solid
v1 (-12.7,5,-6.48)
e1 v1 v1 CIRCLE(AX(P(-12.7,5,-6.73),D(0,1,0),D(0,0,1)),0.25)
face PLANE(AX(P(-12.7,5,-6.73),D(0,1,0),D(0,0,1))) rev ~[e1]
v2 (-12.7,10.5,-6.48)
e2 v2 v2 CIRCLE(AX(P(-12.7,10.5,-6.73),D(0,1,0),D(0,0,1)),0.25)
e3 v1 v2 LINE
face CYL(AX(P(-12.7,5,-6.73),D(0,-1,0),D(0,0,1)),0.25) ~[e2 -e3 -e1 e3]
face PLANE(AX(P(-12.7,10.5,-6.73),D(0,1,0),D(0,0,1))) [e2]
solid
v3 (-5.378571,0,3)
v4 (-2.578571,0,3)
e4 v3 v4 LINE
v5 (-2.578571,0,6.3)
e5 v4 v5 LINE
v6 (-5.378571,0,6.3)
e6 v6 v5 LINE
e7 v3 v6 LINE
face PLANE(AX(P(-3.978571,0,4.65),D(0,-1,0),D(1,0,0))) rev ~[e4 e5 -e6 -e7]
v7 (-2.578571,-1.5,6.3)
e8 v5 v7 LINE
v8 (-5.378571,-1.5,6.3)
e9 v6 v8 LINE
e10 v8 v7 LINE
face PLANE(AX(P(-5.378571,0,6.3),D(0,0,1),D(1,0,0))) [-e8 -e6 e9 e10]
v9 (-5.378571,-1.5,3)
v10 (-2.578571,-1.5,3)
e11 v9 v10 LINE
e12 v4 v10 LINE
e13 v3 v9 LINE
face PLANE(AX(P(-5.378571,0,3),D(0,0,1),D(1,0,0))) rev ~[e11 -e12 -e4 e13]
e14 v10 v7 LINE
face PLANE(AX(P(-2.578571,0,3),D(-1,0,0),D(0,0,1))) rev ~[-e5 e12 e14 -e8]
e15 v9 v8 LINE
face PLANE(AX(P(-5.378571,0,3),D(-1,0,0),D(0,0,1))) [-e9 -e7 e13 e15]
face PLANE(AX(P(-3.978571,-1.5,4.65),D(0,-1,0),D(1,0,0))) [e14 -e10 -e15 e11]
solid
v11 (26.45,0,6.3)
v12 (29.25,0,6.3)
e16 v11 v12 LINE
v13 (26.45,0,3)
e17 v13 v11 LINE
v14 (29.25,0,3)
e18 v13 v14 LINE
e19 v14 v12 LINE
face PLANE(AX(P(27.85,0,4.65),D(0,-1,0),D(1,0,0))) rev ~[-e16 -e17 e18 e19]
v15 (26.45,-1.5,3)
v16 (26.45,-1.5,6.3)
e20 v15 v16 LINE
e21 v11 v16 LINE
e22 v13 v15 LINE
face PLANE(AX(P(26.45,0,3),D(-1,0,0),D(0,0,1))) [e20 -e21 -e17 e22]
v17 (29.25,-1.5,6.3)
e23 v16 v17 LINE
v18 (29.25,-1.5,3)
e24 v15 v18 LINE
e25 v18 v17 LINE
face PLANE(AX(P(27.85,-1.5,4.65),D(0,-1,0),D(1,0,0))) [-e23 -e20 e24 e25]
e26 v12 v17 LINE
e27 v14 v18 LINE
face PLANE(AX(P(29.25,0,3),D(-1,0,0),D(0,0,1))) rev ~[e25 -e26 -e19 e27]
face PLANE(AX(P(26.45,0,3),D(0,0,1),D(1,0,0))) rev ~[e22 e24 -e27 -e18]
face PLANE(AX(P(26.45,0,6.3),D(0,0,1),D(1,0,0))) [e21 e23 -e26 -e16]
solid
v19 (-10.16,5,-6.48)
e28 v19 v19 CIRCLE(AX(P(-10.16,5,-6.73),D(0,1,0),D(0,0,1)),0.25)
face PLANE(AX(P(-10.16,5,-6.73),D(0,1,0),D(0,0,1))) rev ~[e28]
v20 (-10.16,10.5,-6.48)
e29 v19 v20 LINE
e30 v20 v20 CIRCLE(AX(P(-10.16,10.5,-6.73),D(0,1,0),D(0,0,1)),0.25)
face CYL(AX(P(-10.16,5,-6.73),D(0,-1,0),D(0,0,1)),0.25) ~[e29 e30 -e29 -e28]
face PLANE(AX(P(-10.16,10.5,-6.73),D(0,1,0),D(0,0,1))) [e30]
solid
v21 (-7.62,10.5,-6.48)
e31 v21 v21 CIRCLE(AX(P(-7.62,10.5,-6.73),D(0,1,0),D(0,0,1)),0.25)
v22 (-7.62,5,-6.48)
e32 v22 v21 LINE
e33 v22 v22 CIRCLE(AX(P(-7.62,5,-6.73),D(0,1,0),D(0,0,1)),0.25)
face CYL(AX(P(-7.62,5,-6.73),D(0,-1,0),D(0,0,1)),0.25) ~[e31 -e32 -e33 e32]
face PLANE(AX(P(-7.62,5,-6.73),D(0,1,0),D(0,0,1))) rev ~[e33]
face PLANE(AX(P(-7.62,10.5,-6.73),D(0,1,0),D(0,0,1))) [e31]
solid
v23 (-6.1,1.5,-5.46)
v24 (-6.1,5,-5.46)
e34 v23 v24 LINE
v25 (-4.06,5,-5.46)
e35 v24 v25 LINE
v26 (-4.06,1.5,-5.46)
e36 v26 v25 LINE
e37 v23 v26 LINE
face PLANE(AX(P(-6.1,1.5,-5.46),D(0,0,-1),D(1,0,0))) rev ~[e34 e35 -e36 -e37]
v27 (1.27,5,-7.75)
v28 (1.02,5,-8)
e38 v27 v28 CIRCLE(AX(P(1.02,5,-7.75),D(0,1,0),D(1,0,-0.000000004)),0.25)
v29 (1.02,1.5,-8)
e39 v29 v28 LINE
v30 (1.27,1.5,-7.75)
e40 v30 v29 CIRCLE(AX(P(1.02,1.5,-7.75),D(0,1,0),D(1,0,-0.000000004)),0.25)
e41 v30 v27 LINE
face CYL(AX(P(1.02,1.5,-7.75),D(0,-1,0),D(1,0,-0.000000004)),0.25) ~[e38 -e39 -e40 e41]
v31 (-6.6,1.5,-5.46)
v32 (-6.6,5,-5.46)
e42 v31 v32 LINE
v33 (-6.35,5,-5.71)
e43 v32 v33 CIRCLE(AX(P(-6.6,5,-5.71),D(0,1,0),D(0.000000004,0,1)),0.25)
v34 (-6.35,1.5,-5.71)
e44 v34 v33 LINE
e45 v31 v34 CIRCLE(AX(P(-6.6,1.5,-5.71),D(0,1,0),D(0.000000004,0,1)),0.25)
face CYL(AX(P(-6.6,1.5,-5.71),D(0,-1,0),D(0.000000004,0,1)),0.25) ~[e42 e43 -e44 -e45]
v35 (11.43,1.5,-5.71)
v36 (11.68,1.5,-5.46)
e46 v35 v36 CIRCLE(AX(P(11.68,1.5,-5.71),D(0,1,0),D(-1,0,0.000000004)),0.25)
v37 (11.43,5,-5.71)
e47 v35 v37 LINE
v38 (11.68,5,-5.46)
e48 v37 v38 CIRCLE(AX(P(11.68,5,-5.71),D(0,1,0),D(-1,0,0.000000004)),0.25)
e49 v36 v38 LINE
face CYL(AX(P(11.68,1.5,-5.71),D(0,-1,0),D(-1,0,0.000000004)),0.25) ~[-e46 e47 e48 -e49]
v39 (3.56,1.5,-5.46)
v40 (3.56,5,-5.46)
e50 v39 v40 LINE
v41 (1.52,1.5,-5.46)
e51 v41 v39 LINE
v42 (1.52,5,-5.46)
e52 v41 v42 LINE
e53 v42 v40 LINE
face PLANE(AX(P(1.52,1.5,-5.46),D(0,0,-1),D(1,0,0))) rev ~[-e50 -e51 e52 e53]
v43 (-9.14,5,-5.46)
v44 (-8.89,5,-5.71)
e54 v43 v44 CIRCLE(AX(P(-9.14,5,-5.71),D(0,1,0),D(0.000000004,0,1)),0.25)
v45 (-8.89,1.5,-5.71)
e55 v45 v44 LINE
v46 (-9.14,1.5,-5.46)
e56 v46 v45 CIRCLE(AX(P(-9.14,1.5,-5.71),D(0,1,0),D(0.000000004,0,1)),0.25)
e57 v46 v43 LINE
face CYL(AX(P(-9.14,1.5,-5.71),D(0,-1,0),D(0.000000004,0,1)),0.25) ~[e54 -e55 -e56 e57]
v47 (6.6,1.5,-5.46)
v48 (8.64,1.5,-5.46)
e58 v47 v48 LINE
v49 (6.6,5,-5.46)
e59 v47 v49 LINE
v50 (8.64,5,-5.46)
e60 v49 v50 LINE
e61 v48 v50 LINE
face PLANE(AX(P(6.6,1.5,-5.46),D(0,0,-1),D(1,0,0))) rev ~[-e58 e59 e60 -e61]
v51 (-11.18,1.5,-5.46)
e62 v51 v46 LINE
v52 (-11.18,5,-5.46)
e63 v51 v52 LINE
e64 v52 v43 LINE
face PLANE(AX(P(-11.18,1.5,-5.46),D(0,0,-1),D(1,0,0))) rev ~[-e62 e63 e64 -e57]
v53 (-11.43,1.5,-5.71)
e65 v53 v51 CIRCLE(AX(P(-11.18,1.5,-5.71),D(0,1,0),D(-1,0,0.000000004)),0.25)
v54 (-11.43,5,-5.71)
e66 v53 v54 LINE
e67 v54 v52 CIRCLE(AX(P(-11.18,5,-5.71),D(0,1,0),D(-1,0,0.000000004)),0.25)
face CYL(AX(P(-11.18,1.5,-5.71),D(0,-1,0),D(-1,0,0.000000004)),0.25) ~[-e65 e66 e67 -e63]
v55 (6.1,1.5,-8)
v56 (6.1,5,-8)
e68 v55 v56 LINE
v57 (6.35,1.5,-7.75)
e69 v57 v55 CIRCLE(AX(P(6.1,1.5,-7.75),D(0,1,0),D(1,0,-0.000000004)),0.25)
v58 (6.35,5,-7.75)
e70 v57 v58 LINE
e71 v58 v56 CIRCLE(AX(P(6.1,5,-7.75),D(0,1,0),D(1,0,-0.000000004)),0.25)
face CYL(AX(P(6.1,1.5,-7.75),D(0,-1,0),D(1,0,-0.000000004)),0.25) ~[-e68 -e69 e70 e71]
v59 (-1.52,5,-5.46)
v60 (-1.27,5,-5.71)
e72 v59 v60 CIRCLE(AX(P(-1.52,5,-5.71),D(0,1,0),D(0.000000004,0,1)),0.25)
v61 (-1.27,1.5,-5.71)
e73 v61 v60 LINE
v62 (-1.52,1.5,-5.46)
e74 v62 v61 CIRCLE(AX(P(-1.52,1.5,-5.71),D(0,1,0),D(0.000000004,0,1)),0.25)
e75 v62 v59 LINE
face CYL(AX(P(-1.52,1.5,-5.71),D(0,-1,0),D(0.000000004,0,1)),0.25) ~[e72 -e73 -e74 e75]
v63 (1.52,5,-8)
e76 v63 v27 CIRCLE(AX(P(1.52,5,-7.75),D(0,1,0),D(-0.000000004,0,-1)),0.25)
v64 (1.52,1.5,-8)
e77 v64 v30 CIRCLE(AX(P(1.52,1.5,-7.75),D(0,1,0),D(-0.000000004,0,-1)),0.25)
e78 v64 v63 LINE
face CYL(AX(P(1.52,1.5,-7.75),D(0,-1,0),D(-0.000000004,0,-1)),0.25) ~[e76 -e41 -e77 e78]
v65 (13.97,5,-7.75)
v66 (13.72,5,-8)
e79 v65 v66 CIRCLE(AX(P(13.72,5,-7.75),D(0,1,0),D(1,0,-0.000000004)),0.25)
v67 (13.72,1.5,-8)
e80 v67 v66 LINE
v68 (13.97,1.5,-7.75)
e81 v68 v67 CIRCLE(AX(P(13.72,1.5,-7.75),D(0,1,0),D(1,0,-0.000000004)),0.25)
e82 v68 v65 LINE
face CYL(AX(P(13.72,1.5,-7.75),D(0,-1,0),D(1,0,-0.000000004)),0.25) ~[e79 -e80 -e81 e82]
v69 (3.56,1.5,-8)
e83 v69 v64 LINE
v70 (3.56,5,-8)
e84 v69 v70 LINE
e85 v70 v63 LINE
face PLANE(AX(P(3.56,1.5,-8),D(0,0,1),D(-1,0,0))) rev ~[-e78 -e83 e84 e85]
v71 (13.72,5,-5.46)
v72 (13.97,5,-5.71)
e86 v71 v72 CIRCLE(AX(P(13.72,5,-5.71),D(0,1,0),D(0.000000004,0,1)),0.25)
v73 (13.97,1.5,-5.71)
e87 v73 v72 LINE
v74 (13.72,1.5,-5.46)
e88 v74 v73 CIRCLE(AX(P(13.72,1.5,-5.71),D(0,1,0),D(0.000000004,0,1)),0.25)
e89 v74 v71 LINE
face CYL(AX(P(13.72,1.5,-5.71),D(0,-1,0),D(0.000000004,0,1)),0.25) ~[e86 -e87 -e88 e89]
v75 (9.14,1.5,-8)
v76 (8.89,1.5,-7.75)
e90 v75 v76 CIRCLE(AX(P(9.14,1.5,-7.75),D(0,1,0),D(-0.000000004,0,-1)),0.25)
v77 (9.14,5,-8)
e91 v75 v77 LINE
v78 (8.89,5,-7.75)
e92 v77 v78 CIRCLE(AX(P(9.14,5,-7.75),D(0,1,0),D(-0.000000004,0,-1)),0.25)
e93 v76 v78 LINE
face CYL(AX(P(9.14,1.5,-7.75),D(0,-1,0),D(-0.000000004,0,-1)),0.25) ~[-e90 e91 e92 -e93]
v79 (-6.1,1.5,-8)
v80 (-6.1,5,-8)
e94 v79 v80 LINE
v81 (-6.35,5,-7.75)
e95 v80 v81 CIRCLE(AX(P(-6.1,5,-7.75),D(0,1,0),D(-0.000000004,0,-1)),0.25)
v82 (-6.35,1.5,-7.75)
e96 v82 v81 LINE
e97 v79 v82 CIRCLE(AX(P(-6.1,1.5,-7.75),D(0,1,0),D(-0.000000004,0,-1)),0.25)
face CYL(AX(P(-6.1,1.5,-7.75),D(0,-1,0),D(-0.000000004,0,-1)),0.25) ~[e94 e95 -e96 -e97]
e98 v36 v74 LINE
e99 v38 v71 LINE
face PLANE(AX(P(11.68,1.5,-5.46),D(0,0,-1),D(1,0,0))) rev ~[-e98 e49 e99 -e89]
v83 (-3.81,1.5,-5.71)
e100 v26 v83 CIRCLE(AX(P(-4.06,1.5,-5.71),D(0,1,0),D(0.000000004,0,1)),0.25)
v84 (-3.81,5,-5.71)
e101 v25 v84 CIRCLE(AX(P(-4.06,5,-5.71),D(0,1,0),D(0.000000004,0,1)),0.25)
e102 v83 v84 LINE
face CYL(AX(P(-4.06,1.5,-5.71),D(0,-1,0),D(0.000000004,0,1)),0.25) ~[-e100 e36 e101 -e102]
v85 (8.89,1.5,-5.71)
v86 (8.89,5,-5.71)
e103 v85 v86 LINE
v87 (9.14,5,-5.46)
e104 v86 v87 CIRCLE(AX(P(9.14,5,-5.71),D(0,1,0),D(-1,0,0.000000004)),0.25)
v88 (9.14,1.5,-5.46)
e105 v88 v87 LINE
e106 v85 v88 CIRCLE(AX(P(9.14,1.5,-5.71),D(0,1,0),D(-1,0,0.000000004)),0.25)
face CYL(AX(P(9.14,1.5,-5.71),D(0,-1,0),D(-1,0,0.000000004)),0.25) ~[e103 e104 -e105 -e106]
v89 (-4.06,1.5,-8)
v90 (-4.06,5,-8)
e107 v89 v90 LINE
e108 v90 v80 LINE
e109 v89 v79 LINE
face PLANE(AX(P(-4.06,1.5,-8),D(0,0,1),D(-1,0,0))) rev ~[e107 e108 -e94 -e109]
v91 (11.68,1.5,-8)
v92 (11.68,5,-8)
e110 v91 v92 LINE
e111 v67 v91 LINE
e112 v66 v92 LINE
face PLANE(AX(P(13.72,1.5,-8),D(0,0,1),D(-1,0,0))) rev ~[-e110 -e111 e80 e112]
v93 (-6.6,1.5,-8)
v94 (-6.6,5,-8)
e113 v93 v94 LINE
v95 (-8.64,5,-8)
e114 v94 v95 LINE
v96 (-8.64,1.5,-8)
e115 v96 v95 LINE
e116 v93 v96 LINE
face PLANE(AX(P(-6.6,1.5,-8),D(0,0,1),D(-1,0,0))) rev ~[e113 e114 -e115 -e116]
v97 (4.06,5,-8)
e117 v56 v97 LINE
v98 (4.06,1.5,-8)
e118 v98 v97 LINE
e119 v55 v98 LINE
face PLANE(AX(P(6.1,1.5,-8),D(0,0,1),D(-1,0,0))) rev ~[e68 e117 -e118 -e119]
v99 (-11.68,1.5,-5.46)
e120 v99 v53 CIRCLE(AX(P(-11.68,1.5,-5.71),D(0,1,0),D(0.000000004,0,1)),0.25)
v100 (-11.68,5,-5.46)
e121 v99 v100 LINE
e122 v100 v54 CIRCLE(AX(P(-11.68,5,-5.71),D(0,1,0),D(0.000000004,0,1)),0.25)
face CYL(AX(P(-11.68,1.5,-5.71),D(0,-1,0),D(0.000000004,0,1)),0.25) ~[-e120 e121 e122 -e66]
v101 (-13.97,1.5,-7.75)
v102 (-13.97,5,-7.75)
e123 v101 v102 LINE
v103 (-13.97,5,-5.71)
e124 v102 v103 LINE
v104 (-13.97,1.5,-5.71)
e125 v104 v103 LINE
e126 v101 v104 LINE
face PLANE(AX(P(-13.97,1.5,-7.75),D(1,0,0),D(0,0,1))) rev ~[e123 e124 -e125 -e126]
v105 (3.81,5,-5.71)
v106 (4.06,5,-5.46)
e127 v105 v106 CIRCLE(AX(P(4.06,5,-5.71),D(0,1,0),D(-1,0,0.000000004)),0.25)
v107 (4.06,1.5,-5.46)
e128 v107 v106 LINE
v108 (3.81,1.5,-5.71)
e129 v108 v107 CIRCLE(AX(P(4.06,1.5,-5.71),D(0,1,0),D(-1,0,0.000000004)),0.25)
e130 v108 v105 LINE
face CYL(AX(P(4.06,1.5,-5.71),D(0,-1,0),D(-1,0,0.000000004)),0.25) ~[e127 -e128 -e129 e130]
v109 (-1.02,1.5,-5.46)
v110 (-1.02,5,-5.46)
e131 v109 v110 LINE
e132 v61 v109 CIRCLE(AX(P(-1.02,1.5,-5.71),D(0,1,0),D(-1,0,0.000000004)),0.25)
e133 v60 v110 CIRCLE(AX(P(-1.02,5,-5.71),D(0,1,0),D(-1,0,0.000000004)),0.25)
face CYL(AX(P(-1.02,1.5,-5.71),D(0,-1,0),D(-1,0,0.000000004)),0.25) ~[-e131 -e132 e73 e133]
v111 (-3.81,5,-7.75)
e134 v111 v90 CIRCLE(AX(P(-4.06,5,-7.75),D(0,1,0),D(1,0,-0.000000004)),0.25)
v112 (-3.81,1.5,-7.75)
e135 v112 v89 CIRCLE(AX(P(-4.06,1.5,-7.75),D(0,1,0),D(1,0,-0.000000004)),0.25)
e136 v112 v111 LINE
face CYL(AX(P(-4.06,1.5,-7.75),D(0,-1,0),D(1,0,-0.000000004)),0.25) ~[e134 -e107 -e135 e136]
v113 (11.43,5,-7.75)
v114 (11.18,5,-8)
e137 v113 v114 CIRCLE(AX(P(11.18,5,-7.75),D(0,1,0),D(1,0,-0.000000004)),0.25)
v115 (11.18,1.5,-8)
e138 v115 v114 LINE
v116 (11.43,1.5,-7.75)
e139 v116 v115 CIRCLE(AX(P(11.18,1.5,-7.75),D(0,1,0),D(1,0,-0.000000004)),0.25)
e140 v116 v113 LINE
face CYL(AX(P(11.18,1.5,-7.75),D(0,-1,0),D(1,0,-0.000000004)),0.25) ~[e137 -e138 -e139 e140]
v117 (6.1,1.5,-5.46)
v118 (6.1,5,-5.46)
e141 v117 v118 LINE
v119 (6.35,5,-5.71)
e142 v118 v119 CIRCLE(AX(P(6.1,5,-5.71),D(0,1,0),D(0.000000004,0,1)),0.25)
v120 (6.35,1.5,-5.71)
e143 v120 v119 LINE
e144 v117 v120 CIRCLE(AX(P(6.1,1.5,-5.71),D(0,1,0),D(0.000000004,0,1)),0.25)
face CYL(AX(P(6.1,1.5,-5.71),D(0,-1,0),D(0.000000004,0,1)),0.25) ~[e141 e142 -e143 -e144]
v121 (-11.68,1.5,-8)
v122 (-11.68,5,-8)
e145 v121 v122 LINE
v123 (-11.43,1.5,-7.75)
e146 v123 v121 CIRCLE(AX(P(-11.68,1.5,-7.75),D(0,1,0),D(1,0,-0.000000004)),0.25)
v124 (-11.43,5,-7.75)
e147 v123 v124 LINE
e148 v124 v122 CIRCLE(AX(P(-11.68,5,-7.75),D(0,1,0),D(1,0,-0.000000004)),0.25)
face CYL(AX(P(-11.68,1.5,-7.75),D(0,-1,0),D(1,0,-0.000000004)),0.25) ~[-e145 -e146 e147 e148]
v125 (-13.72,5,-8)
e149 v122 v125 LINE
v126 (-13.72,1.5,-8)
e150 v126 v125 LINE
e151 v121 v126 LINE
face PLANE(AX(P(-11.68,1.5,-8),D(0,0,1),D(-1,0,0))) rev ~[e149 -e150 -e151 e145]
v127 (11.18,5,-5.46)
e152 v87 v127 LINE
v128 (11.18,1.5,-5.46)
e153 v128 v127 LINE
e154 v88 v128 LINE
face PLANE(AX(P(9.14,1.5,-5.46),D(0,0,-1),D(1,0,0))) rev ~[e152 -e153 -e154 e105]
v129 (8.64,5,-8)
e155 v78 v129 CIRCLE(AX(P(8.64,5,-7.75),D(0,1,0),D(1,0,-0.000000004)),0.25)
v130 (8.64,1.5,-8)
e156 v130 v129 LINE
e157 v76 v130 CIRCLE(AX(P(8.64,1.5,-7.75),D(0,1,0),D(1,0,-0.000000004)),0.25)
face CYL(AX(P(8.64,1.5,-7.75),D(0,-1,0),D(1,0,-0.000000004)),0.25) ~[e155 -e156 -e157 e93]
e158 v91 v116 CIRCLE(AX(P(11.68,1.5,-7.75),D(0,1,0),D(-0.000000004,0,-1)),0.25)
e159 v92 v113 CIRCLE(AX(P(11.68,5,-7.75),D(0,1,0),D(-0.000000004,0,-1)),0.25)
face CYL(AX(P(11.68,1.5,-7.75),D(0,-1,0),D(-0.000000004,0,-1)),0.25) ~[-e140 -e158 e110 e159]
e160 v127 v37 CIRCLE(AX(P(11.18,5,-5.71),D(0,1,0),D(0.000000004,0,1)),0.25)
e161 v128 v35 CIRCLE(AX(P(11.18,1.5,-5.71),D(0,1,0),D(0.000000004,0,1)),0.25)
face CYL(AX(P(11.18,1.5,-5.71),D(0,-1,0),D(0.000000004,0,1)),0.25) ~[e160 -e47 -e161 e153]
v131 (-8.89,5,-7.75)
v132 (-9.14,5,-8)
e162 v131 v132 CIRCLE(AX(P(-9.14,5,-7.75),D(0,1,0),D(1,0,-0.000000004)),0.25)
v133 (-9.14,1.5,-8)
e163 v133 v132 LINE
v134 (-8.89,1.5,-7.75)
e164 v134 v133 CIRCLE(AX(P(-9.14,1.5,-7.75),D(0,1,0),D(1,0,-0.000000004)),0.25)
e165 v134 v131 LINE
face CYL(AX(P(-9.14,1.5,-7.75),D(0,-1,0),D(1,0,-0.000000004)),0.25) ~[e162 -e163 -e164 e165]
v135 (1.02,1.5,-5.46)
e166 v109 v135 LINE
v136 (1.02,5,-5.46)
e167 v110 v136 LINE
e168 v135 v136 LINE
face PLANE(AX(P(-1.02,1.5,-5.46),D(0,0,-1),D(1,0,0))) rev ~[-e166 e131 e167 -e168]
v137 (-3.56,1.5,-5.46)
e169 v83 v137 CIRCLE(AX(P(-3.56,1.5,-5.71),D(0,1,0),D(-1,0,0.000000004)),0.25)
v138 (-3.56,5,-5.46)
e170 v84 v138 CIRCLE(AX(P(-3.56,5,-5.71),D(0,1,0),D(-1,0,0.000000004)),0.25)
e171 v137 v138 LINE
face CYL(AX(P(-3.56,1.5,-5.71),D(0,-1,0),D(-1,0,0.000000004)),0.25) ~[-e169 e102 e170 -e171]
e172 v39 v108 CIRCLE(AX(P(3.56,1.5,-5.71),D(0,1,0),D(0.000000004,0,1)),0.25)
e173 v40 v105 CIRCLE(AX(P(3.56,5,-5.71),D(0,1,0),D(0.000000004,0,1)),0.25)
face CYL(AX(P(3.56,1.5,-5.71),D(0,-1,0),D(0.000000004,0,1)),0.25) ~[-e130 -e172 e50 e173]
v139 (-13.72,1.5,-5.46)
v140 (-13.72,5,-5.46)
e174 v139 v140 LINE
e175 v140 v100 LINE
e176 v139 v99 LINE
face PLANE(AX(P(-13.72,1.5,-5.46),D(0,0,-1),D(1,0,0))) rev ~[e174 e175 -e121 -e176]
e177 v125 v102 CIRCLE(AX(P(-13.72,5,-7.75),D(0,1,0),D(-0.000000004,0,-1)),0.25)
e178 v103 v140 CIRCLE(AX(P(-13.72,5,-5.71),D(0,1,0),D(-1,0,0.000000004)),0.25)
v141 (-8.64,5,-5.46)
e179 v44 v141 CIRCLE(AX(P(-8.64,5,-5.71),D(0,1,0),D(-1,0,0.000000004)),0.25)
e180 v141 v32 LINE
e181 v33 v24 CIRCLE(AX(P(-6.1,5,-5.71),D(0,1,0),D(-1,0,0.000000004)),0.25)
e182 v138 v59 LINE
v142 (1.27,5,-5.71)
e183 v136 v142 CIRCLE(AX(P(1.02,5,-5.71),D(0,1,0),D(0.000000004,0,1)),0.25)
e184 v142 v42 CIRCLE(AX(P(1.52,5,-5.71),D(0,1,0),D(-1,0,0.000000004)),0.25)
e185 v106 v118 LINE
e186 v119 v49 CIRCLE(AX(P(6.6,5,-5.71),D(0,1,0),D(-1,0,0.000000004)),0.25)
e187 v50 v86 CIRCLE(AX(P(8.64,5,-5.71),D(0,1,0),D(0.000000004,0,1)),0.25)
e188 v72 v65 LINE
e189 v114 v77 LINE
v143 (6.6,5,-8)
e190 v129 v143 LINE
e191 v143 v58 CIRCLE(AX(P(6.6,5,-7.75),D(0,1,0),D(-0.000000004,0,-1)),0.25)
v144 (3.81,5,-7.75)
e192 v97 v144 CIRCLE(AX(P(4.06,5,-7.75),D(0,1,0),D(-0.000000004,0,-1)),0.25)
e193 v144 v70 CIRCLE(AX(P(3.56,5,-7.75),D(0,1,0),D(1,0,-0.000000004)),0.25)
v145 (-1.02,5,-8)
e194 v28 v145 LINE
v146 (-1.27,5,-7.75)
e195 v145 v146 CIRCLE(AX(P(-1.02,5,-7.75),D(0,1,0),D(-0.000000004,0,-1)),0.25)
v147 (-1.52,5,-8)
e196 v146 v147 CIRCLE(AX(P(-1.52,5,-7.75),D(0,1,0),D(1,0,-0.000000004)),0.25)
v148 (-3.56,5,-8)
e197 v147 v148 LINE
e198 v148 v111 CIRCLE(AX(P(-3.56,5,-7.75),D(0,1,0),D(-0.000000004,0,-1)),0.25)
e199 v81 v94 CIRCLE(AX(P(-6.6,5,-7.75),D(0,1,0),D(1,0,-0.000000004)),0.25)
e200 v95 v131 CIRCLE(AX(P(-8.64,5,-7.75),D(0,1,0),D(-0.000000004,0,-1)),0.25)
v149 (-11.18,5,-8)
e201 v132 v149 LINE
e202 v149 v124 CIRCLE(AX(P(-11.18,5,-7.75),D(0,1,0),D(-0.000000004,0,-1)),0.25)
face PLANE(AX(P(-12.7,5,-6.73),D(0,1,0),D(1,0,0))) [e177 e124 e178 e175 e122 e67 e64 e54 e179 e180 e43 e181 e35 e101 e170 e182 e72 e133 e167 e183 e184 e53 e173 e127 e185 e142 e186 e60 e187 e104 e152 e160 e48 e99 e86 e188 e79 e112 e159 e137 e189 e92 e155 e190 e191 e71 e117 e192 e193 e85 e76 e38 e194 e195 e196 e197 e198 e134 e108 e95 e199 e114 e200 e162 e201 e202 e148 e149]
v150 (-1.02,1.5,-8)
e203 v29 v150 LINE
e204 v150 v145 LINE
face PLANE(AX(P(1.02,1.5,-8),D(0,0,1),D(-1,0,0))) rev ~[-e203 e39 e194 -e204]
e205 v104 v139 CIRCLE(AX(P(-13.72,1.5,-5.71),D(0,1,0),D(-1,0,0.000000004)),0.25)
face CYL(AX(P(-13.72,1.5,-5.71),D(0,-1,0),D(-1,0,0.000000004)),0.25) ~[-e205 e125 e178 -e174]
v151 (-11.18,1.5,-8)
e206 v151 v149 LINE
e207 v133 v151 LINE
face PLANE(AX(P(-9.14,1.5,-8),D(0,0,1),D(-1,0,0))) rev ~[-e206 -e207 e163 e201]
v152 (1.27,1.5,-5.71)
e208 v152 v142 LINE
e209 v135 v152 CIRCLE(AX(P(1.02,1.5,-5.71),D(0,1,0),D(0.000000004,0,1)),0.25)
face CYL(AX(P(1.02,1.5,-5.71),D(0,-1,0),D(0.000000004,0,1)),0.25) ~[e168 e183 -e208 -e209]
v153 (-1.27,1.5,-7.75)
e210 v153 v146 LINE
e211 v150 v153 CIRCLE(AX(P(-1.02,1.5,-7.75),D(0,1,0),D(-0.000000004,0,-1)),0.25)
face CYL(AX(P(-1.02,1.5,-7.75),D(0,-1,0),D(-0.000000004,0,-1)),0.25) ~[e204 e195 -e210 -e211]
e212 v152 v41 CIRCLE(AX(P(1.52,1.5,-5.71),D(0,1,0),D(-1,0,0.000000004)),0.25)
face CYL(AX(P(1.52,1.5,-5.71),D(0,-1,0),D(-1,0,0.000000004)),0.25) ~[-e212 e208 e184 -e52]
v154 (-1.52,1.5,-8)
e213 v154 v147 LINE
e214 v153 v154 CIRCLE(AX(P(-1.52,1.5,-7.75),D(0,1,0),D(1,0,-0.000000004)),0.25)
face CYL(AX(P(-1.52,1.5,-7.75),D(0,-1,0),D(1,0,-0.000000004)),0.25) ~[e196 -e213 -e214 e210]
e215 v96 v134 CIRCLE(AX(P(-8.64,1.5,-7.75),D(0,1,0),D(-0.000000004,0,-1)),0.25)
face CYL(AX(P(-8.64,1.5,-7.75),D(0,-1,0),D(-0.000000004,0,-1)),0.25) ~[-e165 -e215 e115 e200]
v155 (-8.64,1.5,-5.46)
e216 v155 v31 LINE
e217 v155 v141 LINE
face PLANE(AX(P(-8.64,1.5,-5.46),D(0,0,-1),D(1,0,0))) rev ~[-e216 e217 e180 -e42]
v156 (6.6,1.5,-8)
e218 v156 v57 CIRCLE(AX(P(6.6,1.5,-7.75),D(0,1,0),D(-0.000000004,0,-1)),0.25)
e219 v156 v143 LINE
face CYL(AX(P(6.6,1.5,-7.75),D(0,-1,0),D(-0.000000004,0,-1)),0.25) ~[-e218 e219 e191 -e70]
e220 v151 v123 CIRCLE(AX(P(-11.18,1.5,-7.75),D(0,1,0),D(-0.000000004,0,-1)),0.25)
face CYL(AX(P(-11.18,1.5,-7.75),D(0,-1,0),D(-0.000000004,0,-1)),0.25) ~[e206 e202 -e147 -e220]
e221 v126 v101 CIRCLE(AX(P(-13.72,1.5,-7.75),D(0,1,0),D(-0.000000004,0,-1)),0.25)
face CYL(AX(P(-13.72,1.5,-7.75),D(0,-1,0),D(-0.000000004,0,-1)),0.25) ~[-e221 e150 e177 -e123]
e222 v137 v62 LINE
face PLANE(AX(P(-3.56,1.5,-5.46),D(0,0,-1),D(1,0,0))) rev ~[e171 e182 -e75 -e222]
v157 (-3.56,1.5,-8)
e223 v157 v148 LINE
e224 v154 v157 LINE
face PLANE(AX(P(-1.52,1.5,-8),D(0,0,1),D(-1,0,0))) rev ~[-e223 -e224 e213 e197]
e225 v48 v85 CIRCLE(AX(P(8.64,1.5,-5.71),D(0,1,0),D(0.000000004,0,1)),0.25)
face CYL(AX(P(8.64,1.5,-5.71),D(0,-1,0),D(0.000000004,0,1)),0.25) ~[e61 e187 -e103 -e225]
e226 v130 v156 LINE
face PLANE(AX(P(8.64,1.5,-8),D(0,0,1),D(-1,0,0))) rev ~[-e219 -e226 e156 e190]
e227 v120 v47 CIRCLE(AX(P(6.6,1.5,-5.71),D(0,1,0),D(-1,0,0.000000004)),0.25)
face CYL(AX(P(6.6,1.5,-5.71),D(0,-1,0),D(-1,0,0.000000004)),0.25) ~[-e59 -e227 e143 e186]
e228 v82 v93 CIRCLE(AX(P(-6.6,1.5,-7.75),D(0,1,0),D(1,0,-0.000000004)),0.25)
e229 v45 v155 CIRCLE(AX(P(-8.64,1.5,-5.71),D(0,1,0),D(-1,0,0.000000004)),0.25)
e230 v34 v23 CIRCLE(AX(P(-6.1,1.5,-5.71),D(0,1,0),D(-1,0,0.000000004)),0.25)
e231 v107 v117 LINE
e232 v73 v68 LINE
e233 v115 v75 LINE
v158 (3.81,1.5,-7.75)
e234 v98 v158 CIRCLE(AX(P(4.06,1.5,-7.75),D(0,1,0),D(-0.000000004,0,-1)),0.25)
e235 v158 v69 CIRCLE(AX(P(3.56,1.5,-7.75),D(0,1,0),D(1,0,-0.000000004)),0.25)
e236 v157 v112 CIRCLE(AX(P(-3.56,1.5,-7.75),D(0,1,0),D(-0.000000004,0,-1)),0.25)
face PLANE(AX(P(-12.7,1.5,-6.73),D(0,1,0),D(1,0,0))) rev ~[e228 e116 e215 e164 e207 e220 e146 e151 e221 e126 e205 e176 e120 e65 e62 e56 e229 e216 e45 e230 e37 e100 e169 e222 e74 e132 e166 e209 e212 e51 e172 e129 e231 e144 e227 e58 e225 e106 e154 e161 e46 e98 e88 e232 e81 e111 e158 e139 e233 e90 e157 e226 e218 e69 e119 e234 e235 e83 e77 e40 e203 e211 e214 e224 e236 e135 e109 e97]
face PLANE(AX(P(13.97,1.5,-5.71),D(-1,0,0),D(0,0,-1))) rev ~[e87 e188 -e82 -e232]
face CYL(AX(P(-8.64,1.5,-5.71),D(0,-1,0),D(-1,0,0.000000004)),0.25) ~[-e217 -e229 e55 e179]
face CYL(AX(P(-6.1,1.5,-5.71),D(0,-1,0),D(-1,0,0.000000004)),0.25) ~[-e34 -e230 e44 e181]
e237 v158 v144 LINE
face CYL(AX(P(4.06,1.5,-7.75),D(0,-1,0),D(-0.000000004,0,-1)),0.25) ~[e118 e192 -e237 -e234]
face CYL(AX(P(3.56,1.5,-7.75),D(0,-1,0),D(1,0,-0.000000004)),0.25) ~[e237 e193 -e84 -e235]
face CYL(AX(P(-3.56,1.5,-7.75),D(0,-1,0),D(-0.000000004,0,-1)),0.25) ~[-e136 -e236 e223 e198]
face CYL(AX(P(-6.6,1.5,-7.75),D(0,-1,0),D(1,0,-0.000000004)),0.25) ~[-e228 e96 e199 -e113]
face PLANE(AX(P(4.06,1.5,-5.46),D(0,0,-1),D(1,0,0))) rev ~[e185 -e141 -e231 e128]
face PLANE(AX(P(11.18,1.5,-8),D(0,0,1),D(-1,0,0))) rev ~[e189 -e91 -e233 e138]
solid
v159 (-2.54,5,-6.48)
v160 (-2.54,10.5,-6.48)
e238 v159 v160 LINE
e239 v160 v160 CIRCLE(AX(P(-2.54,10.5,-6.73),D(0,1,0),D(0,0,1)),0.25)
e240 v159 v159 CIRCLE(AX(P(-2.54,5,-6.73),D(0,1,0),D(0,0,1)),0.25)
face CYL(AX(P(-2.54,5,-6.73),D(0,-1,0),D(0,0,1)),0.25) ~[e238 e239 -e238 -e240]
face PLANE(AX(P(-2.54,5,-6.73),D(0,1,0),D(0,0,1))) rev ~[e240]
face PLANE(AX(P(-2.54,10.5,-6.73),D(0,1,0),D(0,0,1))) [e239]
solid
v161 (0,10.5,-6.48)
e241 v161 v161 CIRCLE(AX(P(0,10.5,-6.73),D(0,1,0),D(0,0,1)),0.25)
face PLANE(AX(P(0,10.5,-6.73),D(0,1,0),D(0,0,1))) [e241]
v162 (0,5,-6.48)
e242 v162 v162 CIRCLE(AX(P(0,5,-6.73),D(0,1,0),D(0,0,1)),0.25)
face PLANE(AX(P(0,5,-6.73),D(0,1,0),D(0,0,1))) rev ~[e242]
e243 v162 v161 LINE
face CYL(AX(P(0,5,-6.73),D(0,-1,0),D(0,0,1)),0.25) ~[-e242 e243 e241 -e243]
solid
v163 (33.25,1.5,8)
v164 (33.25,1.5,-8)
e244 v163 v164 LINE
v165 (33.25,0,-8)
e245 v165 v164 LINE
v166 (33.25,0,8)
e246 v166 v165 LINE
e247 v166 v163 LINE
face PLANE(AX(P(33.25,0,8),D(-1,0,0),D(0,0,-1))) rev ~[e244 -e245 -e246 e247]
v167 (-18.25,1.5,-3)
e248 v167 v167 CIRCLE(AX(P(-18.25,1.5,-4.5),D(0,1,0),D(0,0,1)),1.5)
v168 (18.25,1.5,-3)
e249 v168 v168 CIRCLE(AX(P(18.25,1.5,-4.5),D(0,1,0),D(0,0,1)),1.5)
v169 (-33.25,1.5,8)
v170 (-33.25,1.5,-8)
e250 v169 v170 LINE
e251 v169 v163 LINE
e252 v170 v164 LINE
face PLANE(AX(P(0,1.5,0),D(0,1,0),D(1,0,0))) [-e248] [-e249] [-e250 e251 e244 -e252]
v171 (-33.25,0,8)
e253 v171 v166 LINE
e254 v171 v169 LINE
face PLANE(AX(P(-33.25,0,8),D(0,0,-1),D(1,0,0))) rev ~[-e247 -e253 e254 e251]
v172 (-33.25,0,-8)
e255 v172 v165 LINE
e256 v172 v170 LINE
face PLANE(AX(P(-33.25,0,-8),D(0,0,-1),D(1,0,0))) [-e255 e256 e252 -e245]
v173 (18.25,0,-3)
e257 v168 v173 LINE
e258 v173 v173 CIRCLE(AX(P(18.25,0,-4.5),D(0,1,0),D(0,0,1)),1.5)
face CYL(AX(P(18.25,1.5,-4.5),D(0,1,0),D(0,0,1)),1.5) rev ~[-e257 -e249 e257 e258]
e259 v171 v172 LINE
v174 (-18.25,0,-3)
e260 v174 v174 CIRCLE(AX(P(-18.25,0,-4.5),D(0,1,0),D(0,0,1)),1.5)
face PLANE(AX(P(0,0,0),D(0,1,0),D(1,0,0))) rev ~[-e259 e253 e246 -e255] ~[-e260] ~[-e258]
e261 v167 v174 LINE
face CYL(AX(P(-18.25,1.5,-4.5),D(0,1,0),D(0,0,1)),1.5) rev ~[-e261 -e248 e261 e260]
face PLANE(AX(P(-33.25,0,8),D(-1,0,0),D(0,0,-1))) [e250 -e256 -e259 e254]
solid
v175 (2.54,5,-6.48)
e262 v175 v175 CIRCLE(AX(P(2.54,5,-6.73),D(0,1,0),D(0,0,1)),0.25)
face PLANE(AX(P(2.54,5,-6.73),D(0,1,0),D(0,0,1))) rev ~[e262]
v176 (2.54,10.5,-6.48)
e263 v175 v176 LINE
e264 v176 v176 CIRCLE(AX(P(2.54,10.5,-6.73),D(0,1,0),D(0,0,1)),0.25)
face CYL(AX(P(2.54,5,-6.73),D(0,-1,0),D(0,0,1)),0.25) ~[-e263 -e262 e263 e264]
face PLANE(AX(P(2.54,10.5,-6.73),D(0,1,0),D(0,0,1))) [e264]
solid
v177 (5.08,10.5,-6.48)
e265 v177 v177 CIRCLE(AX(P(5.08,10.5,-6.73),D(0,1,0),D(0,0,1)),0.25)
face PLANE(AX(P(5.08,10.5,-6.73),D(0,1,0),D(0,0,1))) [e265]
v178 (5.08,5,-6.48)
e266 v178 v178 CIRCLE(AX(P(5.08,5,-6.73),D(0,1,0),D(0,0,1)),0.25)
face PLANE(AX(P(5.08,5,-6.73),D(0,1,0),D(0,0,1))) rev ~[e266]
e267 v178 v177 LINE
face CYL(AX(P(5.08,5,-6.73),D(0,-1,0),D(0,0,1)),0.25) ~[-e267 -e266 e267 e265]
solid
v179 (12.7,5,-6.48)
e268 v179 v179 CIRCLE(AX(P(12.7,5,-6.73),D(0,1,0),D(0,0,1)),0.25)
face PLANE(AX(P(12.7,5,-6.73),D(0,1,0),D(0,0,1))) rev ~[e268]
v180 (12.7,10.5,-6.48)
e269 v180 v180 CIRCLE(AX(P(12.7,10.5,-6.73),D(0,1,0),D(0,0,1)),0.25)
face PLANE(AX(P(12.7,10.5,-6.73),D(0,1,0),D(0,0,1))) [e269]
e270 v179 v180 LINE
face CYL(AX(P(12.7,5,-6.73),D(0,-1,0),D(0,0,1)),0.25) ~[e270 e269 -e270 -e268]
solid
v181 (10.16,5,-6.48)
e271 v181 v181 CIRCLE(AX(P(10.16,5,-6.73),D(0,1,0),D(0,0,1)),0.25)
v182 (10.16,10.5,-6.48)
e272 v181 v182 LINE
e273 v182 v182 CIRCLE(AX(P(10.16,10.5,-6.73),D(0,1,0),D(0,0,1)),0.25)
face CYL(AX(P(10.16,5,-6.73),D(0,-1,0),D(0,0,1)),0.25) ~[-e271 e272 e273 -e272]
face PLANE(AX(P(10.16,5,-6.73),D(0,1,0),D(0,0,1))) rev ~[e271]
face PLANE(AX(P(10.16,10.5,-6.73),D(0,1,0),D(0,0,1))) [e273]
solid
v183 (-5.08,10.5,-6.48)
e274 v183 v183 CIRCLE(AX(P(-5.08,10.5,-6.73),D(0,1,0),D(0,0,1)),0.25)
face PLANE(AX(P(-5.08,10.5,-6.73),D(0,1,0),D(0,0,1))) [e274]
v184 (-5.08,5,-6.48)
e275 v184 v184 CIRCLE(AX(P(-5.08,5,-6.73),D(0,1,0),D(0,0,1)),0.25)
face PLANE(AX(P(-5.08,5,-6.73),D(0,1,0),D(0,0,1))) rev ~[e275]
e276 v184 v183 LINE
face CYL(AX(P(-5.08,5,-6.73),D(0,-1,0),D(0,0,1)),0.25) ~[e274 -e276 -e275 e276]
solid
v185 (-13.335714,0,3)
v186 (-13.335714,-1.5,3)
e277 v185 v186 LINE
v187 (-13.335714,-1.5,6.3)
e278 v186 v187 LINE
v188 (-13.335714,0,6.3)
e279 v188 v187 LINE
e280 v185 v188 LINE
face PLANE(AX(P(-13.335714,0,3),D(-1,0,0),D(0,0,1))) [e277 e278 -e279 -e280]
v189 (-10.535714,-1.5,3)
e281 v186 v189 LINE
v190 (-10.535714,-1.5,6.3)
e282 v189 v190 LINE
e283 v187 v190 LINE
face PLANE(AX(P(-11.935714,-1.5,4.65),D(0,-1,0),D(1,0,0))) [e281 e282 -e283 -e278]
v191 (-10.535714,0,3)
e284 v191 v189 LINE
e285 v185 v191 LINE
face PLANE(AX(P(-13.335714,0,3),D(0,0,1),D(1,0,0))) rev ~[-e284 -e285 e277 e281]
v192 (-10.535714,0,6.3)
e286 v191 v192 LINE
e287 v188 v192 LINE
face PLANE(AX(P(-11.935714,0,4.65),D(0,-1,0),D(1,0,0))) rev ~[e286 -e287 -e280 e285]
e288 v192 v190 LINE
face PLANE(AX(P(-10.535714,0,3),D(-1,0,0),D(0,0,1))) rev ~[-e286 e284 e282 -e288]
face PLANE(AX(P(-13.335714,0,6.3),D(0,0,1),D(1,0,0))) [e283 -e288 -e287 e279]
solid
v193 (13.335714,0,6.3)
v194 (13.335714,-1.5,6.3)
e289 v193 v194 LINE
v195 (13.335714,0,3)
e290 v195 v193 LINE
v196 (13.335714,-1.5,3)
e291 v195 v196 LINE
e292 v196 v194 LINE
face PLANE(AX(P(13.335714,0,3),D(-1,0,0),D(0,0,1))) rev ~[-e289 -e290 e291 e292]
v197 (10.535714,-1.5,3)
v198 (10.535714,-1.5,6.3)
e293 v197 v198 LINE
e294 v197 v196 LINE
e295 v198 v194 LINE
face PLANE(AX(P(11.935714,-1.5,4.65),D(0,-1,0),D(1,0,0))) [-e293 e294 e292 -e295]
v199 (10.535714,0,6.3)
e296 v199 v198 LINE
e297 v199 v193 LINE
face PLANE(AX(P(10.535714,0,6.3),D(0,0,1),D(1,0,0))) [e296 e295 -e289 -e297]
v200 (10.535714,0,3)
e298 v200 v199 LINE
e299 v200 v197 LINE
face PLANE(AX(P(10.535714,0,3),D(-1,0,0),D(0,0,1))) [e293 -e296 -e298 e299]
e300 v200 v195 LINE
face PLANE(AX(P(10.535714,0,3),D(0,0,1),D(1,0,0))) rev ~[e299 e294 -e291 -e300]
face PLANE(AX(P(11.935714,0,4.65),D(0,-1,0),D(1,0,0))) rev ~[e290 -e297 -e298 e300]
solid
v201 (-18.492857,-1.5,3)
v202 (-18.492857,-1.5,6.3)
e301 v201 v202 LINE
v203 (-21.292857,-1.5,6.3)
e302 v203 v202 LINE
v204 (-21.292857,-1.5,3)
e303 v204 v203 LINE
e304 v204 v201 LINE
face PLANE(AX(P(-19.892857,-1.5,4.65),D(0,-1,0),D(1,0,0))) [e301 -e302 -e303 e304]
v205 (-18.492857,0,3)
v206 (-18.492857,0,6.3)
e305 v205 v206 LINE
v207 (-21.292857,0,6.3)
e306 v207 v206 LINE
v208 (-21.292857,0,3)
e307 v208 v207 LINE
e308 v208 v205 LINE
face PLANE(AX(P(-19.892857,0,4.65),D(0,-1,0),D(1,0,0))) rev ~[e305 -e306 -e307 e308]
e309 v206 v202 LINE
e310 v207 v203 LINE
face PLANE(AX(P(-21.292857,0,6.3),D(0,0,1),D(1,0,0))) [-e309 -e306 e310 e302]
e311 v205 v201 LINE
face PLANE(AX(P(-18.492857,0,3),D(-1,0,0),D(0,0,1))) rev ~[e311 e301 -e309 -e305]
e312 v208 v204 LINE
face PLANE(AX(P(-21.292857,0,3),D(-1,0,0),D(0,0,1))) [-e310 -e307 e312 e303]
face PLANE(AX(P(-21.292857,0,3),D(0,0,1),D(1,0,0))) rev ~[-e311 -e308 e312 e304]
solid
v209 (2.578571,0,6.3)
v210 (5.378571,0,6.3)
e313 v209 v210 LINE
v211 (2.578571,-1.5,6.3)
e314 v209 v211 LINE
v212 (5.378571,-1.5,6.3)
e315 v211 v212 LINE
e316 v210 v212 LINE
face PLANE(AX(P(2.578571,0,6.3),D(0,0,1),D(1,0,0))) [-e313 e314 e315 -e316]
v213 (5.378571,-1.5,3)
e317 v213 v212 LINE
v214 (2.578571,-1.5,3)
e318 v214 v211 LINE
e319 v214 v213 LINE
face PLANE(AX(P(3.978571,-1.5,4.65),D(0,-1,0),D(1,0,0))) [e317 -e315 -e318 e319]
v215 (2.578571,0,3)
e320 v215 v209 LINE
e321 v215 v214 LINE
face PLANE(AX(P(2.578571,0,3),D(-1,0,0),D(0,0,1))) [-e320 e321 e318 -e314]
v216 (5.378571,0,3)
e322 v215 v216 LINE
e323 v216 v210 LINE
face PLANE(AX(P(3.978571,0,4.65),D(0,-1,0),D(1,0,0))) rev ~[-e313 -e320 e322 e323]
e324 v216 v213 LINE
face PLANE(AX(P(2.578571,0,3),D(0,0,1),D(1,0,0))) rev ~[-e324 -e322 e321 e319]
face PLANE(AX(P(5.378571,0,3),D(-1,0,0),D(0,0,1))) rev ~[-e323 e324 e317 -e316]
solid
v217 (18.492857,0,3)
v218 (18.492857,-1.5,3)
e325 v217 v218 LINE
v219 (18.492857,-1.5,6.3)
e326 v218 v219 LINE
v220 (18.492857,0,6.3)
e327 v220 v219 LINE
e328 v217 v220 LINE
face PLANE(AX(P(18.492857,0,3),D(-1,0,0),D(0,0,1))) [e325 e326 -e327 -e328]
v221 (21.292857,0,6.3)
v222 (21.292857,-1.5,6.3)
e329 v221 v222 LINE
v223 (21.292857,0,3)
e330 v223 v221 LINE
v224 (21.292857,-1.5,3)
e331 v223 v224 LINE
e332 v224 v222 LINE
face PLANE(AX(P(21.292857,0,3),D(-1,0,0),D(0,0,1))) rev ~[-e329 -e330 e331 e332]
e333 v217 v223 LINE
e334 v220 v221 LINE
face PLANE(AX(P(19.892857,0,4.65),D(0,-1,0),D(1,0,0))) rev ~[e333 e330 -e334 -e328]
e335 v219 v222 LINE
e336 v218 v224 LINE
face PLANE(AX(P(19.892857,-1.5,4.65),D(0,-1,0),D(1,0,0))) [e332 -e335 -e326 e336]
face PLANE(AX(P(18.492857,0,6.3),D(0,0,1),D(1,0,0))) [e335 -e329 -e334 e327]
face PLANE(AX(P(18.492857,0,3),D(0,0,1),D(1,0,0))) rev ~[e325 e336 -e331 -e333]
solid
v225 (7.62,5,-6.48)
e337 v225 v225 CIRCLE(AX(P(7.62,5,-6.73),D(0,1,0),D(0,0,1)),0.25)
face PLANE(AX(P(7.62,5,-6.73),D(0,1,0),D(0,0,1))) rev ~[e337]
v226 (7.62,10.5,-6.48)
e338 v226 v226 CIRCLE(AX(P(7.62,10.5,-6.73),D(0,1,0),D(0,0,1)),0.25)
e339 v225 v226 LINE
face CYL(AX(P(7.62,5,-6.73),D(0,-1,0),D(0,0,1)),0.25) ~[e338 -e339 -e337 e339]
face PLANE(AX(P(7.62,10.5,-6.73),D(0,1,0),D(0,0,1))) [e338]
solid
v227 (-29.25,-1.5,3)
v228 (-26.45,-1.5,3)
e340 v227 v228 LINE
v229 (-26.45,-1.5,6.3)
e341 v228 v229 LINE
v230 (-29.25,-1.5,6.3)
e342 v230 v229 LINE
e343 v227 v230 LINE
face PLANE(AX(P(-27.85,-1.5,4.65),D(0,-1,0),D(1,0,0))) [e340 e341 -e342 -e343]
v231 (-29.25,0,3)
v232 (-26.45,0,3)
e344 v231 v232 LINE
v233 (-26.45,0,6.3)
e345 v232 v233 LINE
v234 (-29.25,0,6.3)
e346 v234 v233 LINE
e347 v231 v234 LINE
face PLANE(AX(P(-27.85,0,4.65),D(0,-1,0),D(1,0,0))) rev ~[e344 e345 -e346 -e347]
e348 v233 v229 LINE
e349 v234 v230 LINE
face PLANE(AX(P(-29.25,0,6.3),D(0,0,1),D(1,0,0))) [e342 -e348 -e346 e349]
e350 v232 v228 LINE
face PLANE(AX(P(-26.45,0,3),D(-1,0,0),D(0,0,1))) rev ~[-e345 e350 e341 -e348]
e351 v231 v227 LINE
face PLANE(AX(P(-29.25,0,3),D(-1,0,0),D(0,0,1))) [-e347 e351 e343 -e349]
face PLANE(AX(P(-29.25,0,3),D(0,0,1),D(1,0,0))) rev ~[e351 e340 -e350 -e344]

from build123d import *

# Parameters (mm, degrees)
SKETCH1_W              = 66.5
SKETCH1_H              = 16
BOSS_EXTRUDE1_DEPTH    = 1.5
SKETCH2_R              = 1.5
CUT_EXTRUDE1_DEPTH     = 35.231746961
SKETCH3_W              = 2.8
SKETCH3_H              = 3.3
BOSS_EXTRUDE2_DEPTH    = 1.5
BOSS_EXTRUDE2_2_DEPTH  = 1.5
BOSS_EXTRUDE2_3_DEPTH  = 1.5
BOSS_EXTRUDE2_4_DEPTH  = 1.5
BOSS_EXTRUDE2_5_DEPTH  = 1.5
BOSS_EXTRUDE2_6_DEPTH  = 1.5
BOSS_EXTRUDE2_7_DEPTH  = 1.5
BOSS_EXTRUDE2_8_DEPTH  = 1.5
BOSS_EXTRUDE3_DEPTH    = 3.5
SKETCH7_R              = 0.25
BOSS_EXTRUDE4_DEPTH    = 5.5
BOSS_EXTRUDE4_2_DEPTH  = 5.5
BOSS_EXTRUDE4_3_DEPTH  = 5.5
BOSS_EXTRUDE4_4_DEPTH  = 5.5
BOSS_EXTRUDE4_5_DEPTH  = 5.5
BOSS_EXTRUDE4_6_DEPTH  = 5.5
BOSS_EXTRUDE4_7_DEPTH  = 5.5
BOSS_EXTRUDE4_8_DEPTH  = 5.5
BOSS_EXTRUDE4_9_DEPTH  = 5.5
BOSS_EXTRUDE4_10_DEPTH = 5.5
BOSS_EXTRUDE4_11_DEPTH = 5.5


with BuildPart() as part:
    # Sketch1 → Boss-Extrude1 (new body)
    with BuildSketch(Plane(origin=(0, 0, 0), x_dir=(1, 0, 0), z_dir=(0, 1, 0))):
        Rectangle(SKETCH1_W, SKETCH1_H)
    extrude(amount=BOSS_EXTRUDE1_DEPTH)

    # Sketch2 → Cut-Extrude1 (cut, through all)
    with BuildSketch(Plane(origin=(0, 1.5, 0), x_dir=(1, 0, 0), z_dir=(0, 1, 0))):
        with Locations(Location((-18.25, 4.5, 0), (0, 0, 270))):
            Circle(SKETCH2_R)
        with Locations(Location((18.25, 4.5, 0), (0, 0, 270))):
            Circle(SKETCH2_R)
    extrude(amount=-CUT_EXTRUDE1_DEPTH, mode=Mode.SUBTRACT)


with BuildPart() as body_2:
    # Sketch3 → Boss-Extrude2 (new body)
    with BuildSketch(Plane.XZ):
        with Locations((-27.85, 4.65)):
            Rectangle(SKETCH3_W, SKETCH3_H)
    extrude(amount=BOSS_EXTRUDE2_DEPTH)


with BuildPart() as body_3:
    # Sketch3 → Boss-Extrude2 2 (new body)
    with BuildSketch(Plane.XZ):
        with Locations((-19.892857143, 4.65)):
            Rectangle(SKETCH3_W, SKETCH3_H)
    extrude(amount=BOSS_EXTRUDE2_2_DEPTH)


with BuildPart() as body_4:
    # Sketch3 → Boss-Extrude2 3 (new body)
    with BuildSketch(Plane.XZ):
        with Locations((-11.935714286, 4.65)):
            Rectangle(SKETCH3_W, SKETCH3_H)
    extrude(amount=BOSS_EXTRUDE2_3_DEPTH)


with BuildPart() as body_5:
    # Sketch3 → Boss-Extrude2 4 (new body)
    with BuildSketch(Plane.XZ):
        with Locations((-3.978571429, 4.65)):
            Rectangle(SKETCH3_W, SKETCH3_H)
    extrude(amount=BOSS_EXTRUDE2_4_DEPTH)


with BuildPart() as body_6:
    # Sketch3 → Boss-Extrude2 5 (new body)
    with BuildSketch(Plane.XZ):
        with Locations((3.978571429, 4.65)):
            Rectangle(SKETCH3_W, SKETCH3_H)
    extrude(amount=BOSS_EXTRUDE2_5_DEPTH)


with BuildPart() as body_7:
    # Sketch3 → Boss-Extrude2 6 (new body)
    with BuildSketch(Plane.XZ):
        with Locations((11.935714286, 4.65)):
            Rectangle(SKETCH3_W, SKETCH3_H)
    extrude(amount=BOSS_EXTRUDE2_6_DEPTH)


with BuildPart() as body_8:
    # Sketch3 → Boss-Extrude2 7 (new body)
    with BuildSketch(Plane.XZ):
        with Locations((19.892857143, 4.65)):
            Rectangle(SKETCH3_W, SKETCH3_H)
    extrude(amount=BOSS_EXTRUDE2_7_DEPTH)


with BuildPart() as body_9:
    # Sketch3 → Boss-Extrude2 8 (new body)
    with BuildSketch(Plane.XZ):
        with Locations((27.85, 4.65)):
            Rectangle(SKETCH3_W, SKETCH3_H)
    extrude(amount=BOSS_EXTRUDE2_8_DEPTH)


with BuildPart() as body_10:
    # Sketch5 → Boss-Extrude3 (new body)
    with BuildSketch(Plane(origin=(0, 1.5, 0), x_dir=(1, 0, 0), z_dir=(0, 1, 0))):
        with BuildLine():
            Line((-11.43, 5.71), (-11.43, 7.75))
            ThreePointArc((-11.43, 7.75), (-11.503223305, 7.926776695), (-11.68, 8))
            Line((-11.68, 8), (-13.72, 8))
            ThreePointArc((-13.72, 8), (-13.896776695, 7.926776695), (-13.97, 7.75))
            Line((-13.97, 7.75), (-13.97, 5.71))
            ThreePointArc((-13.97, 5.71), (-13.896776695, 5.533223305), (-13.72, 5.46))
            Line((-13.72, 5.46), (-11.68, 5.46))
            ThreePointArc((-11.68, 5.46), (-11.503223305, 5.533223305), (-11.43, 5.71))
        make_face()
        with BuildLine():
            Line((-8.89, 5.71), (-8.89, 7.75))
            ThreePointArc((-8.89, 7.75), (-8.963223305, 7.926776695), (-9.14, 8))
            Line((-9.14, 8), (-11.18, 8))
            ThreePointArc((-11.18, 8), (-11.356776695, 7.926776695), (-11.43, 7.75))
            Line((-11.43, 7.75), (-11.43, 5.71))
            ThreePointArc((-11.43, 5.71), (-11.356776695, 5.533223305), (-11.18, 5.46))
            Line((-11.18, 5.46), (-9.14, 5.46))
            ThreePointArc((-9.14, 5.46), (-8.963223305, 5.533223305), (-8.89, 5.71))
        make_face()
        with BuildLine():
            Line((-6.35, 5.71), (-6.35, 7.75))
            ThreePointArc((-6.35, 7.75), (-6.423223305, 7.926776695), (-6.6, 8))
            Line((-6.6, 8), (-8.64, 8))
            ThreePointArc((-8.64, 8), (-8.816776695, 7.926776695), (-8.89, 7.75))
            Line((-8.89, 7.75), (-8.89, 5.71))
            ThreePointArc((-8.89, 5.71), (-8.816776695, 5.533223305), (-8.64, 5.46))
            Line((-8.64, 5.46), (-6.6, 5.46))
            ThreePointArc((-6.6, 5.46), (-6.423223305, 5.533223305), (-6.35, 5.71))
        make_face()
        with BuildLine():
            Line((-3.81, 5.71), (-3.81, 7.75))
            ThreePointArc((-3.81, 7.75), (-3.883223305, 7.926776695), (-4.06, 8))
            Line((-4.06, 8), (-6.1, 8))
            ThreePointArc((-6.1, 8), (-6.276776695, 7.926776695), (-6.35, 7.75))
            Line((-6.35, 7.75), (-6.35, 5.71))
            ThreePointArc((-6.35, 5.71), (-6.276776695, 5.533223305), (-6.1, 5.46))
            Line((-6.1, 5.46), (-4.06, 5.46))
            ThreePointArc((-4.06, 5.46), (-3.883223305, 5.533223305), (-3.81, 5.71))
        make_face()
        with BuildLine():
            Line((-1.27, 5.71), (-1.27, 7.75))
            ThreePointArc((-1.27, 7.75), (-1.343223305, 7.926776695), (-1.52, 8))
            Line((-1.52, 8), (-3.56, 8))
            ThreePointArc((-3.56, 8), (-3.736776695, 7.926776695), (-3.81, 7.75))
            Line((-3.81, 7.75), (-3.81, 5.71))
            ThreePointArc((-3.81, 5.71), (-3.736776695, 5.533223305), (-3.56, 5.46))
            Line((-3.56, 5.46), (-1.52, 5.46))
            ThreePointArc((-1.52, 5.46), (-1.343223305, 5.533223305), (-1.27, 5.71))
        make_face()
        with BuildLine():
            Line((1.02, 8), (-1.02, 8))
            ThreePointArc((-1.02, 8), (-1.196776695, 7.926776695), (-1.27, 7.75))
            Line((-1.27, 7.75), (-1.27, 5.71))
            ThreePointArc((-1.27, 5.71), (-1.196776695, 5.533223305), (-1.02, 5.46))
            Line((-1.02, 5.46), (1.02, 5.46))
            ThreePointArc((1.02, 5.46), (1.196776695, 5.533223305), (1.27, 5.71))
            Line((1.27, 5.71), (1.27, 7.75))
            ThreePointArc((1.27, 7.75), (1.196776695, 7.926776695), (1.02, 8))
        make_face()
        with BuildLine():
            ThreePointArc((1.52, 8), (1.343223305, 7.926776695), (1.27, 7.75))
            Line((1.27, 7.75), (1.27, 5.71))
            ThreePointArc((1.27, 5.71), (1.343223305, 5.533223305), (1.52, 5.46))
            Line((1.52, 5.46), (3.56, 5.46))
            ThreePointArc((3.56, 5.46), (3.736776695, 5.533223305), (3.81, 5.71))
            Line((3.81, 5.71), (3.81, 7.75))
            ThreePointArc((3.81, 7.75), (3.736776695, 7.926776695), (3.56, 8))
            Line((3.56, 8), (1.52, 8))
        make_face()
        with BuildLine():
            ThreePointArc((4.06, 8), (3.883223305, 7.926776695), (3.81, 7.75))
            Line((3.81, 7.75), (3.81, 5.71))
            ThreePointArc((3.81, 5.71), (3.883223305, 5.533223305), (4.06, 5.46))
            Line((4.06, 5.46), (6.1, 5.46))
            ThreePointArc((6.1, 5.46), (6.276776695, 5.533223305), (6.35, 5.71))
            Line((6.35, 5.71), (6.35, 7.75))
            ThreePointArc((6.35, 7.75), (6.276776695, 7.926776695), (6.1, 8))
            Line((6.1, 8), (4.06, 8))
        make_face()
        with BuildLine():
            ThreePointArc((6.6, 8), (6.423223305, 7.926776695), (6.35, 7.75))
            Line((6.35, 7.75), (6.35, 5.71))
            ThreePointArc((6.35, 5.71), (6.423223305, 5.533223305), (6.6, 5.46))
            Line((6.6, 5.46), (8.64, 5.46))
            ThreePointArc((8.64, 5.46), (8.816776695, 5.533223305), (8.89, 5.71))
            Line((8.89, 5.71), (8.89, 7.75))
            ThreePointArc((8.89, 7.75), (8.816776695, 7.926776695), (8.64, 8))
            Line((8.64, 8), (6.6, 8))
        make_face()
        with BuildLine():
            ThreePointArc((9.14, 8), (8.963223305, 7.926776695), (8.89, 7.75))
            Line((8.89, 7.75), (8.89, 5.71))
            ThreePointArc((8.89, 5.71), (8.963223305, 5.533223305), (9.14, 5.46))
            Line((9.14, 5.46), (11.18, 5.46))
            ThreePointArc((11.18, 5.46), (11.356776695, 5.533223305), (11.43, 5.71))
            Line((11.43, 5.71), (11.43, 7.75))
            ThreePointArc((11.43, 7.75), (11.356776695, 7.926776695), (11.18, 8))
            Line((11.18, 8), (9.14, 8))
        make_face()
        with BuildLine():
            ThreePointArc((11.68, 8), (11.503223305, 7.926776695), (11.43, 7.75))
            Line((11.43, 7.75), (11.43, 5.71))
            ThreePointArc((11.43, 5.71), (11.503223305, 5.533223305), (11.68, 5.46))
            Line((11.68, 5.46), (13.72, 5.46))
            ThreePointArc((13.72, 5.46), (13.896776695, 5.533223305), (13.97, 5.71))
            Line((13.97, 5.71), (13.97, 7.75))
            ThreePointArc((13.97, 7.75), (13.896776695, 7.926776695), (13.72, 8))
            Line((13.72, 8), (11.68, 8))
        make_face()
    extrude(amount=BOSS_EXTRUDE3_DEPTH)


with BuildPart() as body_11:
    # Sketch7 → Boss-Extrude4 (new body)
    with BuildSketch(Plane(origin=(0, 5, 0), x_dir=(1, 0, 0), z_dir=(0, 1, 0))):
        with Locations(Location((0, 6.73, 0), (0, 0, 270))):
            Circle(SKETCH7_R)
    extrude(amount=BOSS_EXTRUDE4_DEPTH)


with BuildPart() as body_12:
    # Sketch7 → Boss-Extrude4 2 (new body)
    with BuildSketch(Plane(origin=(0, 5, 0), x_dir=(1, 0, 0), z_dir=(0, 1, 0))):
        with Locations(Location((2.54, 6.73, 0), (0, 0, 270))):
            Circle(SKETCH7_R)
    extrude(amount=BOSS_EXTRUDE4_2_DEPTH)


with BuildPart() as body_13:
    # Sketch7 → Boss-Extrude4 3 (new body)
    with BuildSketch(Plane(origin=(0, 5, 0), x_dir=(1, 0, 0), z_dir=(0, 1, 0))):
        with Locations(Location((5.08, 6.73, 0), (0, 0, 270))):
            Circle(SKETCH7_R)
    extrude(amount=BOSS_EXTRUDE4_3_DEPTH)


with BuildPart() as body_14:
    # Sketch7 → Boss-Extrude4 4 (new body)
    with BuildSketch(Plane(origin=(0, 5, 0), x_dir=(1, 0, 0), z_dir=(0, 1, 0))):
        with Locations(Location((7.62, 6.73, 0), (0, 0, 270))):
            Circle(SKETCH7_R)
    extrude(amount=BOSS_EXTRUDE4_4_DEPTH)


with BuildPart() as body_15:
    # Sketch7 → Boss-Extrude4 5 (new body)
    with BuildSketch(Plane(origin=(0, 5, 0), x_dir=(1, 0, 0), z_dir=(0, 1, 0))):
        with Locations(Location((10.16, 6.73, 0), (0, 0, 270))):
            Circle(SKETCH7_R)
    extrude(amount=BOSS_EXTRUDE4_5_DEPTH)


with BuildPart() as body_16:
    # Sketch7 → Boss-Extrude4 6 (new body)
    with BuildSketch(Plane(origin=(0, 5, 0), x_dir=(1, 0, 0), z_dir=(0, 1, 0))):
        with Locations(Location((12.7, 6.73, 0), (0, 0, 270))):
            Circle(SKETCH7_R)
    extrude(amount=BOSS_EXTRUDE4_6_DEPTH)


with BuildPart() as body_17:
    # Sketch7 → Boss-Extrude4 7 (new body)
    with BuildSketch(Plane(origin=(0, 5, 0), x_dir=(1, 0, 0), z_dir=(0, 1, 0))):
        with Locations(Location((-2.54, 6.73, 0), (0, 0, 270))):
            Circle(SKETCH7_R)
    extrude(amount=BOSS_EXTRUDE4_7_DEPTH)


with BuildPart() as body_18:
    # Sketch7 → Boss-Extrude4 8 (new body)
    with BuildSketch(Plane(origin=(0, 5, 0), x_dir=(1, 0, 0), z_dir=(0, 1, 0))):
        with Locations(Location((-5.08, 6.73, 0), (0, 0, 270))):
            Circle(SKETCH7_R)
    extrude(amount=BOSS_EXTRUDE4_8_DEPTH)


with BuildPart() as body_19:
    # Sketch7 → Boss-Extrude4 9 (new body)
    with BuildSketch(Plane(origin=(0, 5, 0), x_dir=(1, 0, 0), z_dir=(0, 1, 0))):
        with Locations(Location((-7.62, 6.73, 0), (0, 0, 270))):
            Circle(SKETCH7_R)
    extrude(amount=BOSS_EXTRUDE4_9_DEPTH)


with BuildPart() as body_20:
    # Sketch7 → Boss-Extrude4 10 (new body)
    with BuildSketch(Plane(origin=(0, 5, 0), x_dir=(1, 0, 0), z_dir=(0, 1, 0))):
        with Locations(Location((-10.16, 6.73, 0), (0, 0, 270))):
            Circle(SKETCH7_R)
    extrude(amount=BOSS_EXTRUDE4_10_DEPTH)


with BuildPart() as body_21:
    # Sketch7 → Boss-Extrude4 11 (new body)
    with BuildSketch(Plane(origin=(0, 5, 0), x_dir=(1, 0, 0), z_dir=(0, 1, 0))):
        with Locations(Location((-12.7, 6.73, 0), (0, 0, 270))):
            Circle(SKETCH7_R)
    extrude(amount=BOSS_EXTRUDE4_11_DEPTH)


solid = Compound([part.part, body_2.part, body_3.part, body_4.part, body_5.part, body_6.part, body_7.part, body_8.part, body_9.part, body_10.part, body_11.part, body_12.part, body_13.part, body_14.part, body_15.part, body_16.part, body_17.part, body_18.part, body_19.part, body_20.part, body_21.part])
